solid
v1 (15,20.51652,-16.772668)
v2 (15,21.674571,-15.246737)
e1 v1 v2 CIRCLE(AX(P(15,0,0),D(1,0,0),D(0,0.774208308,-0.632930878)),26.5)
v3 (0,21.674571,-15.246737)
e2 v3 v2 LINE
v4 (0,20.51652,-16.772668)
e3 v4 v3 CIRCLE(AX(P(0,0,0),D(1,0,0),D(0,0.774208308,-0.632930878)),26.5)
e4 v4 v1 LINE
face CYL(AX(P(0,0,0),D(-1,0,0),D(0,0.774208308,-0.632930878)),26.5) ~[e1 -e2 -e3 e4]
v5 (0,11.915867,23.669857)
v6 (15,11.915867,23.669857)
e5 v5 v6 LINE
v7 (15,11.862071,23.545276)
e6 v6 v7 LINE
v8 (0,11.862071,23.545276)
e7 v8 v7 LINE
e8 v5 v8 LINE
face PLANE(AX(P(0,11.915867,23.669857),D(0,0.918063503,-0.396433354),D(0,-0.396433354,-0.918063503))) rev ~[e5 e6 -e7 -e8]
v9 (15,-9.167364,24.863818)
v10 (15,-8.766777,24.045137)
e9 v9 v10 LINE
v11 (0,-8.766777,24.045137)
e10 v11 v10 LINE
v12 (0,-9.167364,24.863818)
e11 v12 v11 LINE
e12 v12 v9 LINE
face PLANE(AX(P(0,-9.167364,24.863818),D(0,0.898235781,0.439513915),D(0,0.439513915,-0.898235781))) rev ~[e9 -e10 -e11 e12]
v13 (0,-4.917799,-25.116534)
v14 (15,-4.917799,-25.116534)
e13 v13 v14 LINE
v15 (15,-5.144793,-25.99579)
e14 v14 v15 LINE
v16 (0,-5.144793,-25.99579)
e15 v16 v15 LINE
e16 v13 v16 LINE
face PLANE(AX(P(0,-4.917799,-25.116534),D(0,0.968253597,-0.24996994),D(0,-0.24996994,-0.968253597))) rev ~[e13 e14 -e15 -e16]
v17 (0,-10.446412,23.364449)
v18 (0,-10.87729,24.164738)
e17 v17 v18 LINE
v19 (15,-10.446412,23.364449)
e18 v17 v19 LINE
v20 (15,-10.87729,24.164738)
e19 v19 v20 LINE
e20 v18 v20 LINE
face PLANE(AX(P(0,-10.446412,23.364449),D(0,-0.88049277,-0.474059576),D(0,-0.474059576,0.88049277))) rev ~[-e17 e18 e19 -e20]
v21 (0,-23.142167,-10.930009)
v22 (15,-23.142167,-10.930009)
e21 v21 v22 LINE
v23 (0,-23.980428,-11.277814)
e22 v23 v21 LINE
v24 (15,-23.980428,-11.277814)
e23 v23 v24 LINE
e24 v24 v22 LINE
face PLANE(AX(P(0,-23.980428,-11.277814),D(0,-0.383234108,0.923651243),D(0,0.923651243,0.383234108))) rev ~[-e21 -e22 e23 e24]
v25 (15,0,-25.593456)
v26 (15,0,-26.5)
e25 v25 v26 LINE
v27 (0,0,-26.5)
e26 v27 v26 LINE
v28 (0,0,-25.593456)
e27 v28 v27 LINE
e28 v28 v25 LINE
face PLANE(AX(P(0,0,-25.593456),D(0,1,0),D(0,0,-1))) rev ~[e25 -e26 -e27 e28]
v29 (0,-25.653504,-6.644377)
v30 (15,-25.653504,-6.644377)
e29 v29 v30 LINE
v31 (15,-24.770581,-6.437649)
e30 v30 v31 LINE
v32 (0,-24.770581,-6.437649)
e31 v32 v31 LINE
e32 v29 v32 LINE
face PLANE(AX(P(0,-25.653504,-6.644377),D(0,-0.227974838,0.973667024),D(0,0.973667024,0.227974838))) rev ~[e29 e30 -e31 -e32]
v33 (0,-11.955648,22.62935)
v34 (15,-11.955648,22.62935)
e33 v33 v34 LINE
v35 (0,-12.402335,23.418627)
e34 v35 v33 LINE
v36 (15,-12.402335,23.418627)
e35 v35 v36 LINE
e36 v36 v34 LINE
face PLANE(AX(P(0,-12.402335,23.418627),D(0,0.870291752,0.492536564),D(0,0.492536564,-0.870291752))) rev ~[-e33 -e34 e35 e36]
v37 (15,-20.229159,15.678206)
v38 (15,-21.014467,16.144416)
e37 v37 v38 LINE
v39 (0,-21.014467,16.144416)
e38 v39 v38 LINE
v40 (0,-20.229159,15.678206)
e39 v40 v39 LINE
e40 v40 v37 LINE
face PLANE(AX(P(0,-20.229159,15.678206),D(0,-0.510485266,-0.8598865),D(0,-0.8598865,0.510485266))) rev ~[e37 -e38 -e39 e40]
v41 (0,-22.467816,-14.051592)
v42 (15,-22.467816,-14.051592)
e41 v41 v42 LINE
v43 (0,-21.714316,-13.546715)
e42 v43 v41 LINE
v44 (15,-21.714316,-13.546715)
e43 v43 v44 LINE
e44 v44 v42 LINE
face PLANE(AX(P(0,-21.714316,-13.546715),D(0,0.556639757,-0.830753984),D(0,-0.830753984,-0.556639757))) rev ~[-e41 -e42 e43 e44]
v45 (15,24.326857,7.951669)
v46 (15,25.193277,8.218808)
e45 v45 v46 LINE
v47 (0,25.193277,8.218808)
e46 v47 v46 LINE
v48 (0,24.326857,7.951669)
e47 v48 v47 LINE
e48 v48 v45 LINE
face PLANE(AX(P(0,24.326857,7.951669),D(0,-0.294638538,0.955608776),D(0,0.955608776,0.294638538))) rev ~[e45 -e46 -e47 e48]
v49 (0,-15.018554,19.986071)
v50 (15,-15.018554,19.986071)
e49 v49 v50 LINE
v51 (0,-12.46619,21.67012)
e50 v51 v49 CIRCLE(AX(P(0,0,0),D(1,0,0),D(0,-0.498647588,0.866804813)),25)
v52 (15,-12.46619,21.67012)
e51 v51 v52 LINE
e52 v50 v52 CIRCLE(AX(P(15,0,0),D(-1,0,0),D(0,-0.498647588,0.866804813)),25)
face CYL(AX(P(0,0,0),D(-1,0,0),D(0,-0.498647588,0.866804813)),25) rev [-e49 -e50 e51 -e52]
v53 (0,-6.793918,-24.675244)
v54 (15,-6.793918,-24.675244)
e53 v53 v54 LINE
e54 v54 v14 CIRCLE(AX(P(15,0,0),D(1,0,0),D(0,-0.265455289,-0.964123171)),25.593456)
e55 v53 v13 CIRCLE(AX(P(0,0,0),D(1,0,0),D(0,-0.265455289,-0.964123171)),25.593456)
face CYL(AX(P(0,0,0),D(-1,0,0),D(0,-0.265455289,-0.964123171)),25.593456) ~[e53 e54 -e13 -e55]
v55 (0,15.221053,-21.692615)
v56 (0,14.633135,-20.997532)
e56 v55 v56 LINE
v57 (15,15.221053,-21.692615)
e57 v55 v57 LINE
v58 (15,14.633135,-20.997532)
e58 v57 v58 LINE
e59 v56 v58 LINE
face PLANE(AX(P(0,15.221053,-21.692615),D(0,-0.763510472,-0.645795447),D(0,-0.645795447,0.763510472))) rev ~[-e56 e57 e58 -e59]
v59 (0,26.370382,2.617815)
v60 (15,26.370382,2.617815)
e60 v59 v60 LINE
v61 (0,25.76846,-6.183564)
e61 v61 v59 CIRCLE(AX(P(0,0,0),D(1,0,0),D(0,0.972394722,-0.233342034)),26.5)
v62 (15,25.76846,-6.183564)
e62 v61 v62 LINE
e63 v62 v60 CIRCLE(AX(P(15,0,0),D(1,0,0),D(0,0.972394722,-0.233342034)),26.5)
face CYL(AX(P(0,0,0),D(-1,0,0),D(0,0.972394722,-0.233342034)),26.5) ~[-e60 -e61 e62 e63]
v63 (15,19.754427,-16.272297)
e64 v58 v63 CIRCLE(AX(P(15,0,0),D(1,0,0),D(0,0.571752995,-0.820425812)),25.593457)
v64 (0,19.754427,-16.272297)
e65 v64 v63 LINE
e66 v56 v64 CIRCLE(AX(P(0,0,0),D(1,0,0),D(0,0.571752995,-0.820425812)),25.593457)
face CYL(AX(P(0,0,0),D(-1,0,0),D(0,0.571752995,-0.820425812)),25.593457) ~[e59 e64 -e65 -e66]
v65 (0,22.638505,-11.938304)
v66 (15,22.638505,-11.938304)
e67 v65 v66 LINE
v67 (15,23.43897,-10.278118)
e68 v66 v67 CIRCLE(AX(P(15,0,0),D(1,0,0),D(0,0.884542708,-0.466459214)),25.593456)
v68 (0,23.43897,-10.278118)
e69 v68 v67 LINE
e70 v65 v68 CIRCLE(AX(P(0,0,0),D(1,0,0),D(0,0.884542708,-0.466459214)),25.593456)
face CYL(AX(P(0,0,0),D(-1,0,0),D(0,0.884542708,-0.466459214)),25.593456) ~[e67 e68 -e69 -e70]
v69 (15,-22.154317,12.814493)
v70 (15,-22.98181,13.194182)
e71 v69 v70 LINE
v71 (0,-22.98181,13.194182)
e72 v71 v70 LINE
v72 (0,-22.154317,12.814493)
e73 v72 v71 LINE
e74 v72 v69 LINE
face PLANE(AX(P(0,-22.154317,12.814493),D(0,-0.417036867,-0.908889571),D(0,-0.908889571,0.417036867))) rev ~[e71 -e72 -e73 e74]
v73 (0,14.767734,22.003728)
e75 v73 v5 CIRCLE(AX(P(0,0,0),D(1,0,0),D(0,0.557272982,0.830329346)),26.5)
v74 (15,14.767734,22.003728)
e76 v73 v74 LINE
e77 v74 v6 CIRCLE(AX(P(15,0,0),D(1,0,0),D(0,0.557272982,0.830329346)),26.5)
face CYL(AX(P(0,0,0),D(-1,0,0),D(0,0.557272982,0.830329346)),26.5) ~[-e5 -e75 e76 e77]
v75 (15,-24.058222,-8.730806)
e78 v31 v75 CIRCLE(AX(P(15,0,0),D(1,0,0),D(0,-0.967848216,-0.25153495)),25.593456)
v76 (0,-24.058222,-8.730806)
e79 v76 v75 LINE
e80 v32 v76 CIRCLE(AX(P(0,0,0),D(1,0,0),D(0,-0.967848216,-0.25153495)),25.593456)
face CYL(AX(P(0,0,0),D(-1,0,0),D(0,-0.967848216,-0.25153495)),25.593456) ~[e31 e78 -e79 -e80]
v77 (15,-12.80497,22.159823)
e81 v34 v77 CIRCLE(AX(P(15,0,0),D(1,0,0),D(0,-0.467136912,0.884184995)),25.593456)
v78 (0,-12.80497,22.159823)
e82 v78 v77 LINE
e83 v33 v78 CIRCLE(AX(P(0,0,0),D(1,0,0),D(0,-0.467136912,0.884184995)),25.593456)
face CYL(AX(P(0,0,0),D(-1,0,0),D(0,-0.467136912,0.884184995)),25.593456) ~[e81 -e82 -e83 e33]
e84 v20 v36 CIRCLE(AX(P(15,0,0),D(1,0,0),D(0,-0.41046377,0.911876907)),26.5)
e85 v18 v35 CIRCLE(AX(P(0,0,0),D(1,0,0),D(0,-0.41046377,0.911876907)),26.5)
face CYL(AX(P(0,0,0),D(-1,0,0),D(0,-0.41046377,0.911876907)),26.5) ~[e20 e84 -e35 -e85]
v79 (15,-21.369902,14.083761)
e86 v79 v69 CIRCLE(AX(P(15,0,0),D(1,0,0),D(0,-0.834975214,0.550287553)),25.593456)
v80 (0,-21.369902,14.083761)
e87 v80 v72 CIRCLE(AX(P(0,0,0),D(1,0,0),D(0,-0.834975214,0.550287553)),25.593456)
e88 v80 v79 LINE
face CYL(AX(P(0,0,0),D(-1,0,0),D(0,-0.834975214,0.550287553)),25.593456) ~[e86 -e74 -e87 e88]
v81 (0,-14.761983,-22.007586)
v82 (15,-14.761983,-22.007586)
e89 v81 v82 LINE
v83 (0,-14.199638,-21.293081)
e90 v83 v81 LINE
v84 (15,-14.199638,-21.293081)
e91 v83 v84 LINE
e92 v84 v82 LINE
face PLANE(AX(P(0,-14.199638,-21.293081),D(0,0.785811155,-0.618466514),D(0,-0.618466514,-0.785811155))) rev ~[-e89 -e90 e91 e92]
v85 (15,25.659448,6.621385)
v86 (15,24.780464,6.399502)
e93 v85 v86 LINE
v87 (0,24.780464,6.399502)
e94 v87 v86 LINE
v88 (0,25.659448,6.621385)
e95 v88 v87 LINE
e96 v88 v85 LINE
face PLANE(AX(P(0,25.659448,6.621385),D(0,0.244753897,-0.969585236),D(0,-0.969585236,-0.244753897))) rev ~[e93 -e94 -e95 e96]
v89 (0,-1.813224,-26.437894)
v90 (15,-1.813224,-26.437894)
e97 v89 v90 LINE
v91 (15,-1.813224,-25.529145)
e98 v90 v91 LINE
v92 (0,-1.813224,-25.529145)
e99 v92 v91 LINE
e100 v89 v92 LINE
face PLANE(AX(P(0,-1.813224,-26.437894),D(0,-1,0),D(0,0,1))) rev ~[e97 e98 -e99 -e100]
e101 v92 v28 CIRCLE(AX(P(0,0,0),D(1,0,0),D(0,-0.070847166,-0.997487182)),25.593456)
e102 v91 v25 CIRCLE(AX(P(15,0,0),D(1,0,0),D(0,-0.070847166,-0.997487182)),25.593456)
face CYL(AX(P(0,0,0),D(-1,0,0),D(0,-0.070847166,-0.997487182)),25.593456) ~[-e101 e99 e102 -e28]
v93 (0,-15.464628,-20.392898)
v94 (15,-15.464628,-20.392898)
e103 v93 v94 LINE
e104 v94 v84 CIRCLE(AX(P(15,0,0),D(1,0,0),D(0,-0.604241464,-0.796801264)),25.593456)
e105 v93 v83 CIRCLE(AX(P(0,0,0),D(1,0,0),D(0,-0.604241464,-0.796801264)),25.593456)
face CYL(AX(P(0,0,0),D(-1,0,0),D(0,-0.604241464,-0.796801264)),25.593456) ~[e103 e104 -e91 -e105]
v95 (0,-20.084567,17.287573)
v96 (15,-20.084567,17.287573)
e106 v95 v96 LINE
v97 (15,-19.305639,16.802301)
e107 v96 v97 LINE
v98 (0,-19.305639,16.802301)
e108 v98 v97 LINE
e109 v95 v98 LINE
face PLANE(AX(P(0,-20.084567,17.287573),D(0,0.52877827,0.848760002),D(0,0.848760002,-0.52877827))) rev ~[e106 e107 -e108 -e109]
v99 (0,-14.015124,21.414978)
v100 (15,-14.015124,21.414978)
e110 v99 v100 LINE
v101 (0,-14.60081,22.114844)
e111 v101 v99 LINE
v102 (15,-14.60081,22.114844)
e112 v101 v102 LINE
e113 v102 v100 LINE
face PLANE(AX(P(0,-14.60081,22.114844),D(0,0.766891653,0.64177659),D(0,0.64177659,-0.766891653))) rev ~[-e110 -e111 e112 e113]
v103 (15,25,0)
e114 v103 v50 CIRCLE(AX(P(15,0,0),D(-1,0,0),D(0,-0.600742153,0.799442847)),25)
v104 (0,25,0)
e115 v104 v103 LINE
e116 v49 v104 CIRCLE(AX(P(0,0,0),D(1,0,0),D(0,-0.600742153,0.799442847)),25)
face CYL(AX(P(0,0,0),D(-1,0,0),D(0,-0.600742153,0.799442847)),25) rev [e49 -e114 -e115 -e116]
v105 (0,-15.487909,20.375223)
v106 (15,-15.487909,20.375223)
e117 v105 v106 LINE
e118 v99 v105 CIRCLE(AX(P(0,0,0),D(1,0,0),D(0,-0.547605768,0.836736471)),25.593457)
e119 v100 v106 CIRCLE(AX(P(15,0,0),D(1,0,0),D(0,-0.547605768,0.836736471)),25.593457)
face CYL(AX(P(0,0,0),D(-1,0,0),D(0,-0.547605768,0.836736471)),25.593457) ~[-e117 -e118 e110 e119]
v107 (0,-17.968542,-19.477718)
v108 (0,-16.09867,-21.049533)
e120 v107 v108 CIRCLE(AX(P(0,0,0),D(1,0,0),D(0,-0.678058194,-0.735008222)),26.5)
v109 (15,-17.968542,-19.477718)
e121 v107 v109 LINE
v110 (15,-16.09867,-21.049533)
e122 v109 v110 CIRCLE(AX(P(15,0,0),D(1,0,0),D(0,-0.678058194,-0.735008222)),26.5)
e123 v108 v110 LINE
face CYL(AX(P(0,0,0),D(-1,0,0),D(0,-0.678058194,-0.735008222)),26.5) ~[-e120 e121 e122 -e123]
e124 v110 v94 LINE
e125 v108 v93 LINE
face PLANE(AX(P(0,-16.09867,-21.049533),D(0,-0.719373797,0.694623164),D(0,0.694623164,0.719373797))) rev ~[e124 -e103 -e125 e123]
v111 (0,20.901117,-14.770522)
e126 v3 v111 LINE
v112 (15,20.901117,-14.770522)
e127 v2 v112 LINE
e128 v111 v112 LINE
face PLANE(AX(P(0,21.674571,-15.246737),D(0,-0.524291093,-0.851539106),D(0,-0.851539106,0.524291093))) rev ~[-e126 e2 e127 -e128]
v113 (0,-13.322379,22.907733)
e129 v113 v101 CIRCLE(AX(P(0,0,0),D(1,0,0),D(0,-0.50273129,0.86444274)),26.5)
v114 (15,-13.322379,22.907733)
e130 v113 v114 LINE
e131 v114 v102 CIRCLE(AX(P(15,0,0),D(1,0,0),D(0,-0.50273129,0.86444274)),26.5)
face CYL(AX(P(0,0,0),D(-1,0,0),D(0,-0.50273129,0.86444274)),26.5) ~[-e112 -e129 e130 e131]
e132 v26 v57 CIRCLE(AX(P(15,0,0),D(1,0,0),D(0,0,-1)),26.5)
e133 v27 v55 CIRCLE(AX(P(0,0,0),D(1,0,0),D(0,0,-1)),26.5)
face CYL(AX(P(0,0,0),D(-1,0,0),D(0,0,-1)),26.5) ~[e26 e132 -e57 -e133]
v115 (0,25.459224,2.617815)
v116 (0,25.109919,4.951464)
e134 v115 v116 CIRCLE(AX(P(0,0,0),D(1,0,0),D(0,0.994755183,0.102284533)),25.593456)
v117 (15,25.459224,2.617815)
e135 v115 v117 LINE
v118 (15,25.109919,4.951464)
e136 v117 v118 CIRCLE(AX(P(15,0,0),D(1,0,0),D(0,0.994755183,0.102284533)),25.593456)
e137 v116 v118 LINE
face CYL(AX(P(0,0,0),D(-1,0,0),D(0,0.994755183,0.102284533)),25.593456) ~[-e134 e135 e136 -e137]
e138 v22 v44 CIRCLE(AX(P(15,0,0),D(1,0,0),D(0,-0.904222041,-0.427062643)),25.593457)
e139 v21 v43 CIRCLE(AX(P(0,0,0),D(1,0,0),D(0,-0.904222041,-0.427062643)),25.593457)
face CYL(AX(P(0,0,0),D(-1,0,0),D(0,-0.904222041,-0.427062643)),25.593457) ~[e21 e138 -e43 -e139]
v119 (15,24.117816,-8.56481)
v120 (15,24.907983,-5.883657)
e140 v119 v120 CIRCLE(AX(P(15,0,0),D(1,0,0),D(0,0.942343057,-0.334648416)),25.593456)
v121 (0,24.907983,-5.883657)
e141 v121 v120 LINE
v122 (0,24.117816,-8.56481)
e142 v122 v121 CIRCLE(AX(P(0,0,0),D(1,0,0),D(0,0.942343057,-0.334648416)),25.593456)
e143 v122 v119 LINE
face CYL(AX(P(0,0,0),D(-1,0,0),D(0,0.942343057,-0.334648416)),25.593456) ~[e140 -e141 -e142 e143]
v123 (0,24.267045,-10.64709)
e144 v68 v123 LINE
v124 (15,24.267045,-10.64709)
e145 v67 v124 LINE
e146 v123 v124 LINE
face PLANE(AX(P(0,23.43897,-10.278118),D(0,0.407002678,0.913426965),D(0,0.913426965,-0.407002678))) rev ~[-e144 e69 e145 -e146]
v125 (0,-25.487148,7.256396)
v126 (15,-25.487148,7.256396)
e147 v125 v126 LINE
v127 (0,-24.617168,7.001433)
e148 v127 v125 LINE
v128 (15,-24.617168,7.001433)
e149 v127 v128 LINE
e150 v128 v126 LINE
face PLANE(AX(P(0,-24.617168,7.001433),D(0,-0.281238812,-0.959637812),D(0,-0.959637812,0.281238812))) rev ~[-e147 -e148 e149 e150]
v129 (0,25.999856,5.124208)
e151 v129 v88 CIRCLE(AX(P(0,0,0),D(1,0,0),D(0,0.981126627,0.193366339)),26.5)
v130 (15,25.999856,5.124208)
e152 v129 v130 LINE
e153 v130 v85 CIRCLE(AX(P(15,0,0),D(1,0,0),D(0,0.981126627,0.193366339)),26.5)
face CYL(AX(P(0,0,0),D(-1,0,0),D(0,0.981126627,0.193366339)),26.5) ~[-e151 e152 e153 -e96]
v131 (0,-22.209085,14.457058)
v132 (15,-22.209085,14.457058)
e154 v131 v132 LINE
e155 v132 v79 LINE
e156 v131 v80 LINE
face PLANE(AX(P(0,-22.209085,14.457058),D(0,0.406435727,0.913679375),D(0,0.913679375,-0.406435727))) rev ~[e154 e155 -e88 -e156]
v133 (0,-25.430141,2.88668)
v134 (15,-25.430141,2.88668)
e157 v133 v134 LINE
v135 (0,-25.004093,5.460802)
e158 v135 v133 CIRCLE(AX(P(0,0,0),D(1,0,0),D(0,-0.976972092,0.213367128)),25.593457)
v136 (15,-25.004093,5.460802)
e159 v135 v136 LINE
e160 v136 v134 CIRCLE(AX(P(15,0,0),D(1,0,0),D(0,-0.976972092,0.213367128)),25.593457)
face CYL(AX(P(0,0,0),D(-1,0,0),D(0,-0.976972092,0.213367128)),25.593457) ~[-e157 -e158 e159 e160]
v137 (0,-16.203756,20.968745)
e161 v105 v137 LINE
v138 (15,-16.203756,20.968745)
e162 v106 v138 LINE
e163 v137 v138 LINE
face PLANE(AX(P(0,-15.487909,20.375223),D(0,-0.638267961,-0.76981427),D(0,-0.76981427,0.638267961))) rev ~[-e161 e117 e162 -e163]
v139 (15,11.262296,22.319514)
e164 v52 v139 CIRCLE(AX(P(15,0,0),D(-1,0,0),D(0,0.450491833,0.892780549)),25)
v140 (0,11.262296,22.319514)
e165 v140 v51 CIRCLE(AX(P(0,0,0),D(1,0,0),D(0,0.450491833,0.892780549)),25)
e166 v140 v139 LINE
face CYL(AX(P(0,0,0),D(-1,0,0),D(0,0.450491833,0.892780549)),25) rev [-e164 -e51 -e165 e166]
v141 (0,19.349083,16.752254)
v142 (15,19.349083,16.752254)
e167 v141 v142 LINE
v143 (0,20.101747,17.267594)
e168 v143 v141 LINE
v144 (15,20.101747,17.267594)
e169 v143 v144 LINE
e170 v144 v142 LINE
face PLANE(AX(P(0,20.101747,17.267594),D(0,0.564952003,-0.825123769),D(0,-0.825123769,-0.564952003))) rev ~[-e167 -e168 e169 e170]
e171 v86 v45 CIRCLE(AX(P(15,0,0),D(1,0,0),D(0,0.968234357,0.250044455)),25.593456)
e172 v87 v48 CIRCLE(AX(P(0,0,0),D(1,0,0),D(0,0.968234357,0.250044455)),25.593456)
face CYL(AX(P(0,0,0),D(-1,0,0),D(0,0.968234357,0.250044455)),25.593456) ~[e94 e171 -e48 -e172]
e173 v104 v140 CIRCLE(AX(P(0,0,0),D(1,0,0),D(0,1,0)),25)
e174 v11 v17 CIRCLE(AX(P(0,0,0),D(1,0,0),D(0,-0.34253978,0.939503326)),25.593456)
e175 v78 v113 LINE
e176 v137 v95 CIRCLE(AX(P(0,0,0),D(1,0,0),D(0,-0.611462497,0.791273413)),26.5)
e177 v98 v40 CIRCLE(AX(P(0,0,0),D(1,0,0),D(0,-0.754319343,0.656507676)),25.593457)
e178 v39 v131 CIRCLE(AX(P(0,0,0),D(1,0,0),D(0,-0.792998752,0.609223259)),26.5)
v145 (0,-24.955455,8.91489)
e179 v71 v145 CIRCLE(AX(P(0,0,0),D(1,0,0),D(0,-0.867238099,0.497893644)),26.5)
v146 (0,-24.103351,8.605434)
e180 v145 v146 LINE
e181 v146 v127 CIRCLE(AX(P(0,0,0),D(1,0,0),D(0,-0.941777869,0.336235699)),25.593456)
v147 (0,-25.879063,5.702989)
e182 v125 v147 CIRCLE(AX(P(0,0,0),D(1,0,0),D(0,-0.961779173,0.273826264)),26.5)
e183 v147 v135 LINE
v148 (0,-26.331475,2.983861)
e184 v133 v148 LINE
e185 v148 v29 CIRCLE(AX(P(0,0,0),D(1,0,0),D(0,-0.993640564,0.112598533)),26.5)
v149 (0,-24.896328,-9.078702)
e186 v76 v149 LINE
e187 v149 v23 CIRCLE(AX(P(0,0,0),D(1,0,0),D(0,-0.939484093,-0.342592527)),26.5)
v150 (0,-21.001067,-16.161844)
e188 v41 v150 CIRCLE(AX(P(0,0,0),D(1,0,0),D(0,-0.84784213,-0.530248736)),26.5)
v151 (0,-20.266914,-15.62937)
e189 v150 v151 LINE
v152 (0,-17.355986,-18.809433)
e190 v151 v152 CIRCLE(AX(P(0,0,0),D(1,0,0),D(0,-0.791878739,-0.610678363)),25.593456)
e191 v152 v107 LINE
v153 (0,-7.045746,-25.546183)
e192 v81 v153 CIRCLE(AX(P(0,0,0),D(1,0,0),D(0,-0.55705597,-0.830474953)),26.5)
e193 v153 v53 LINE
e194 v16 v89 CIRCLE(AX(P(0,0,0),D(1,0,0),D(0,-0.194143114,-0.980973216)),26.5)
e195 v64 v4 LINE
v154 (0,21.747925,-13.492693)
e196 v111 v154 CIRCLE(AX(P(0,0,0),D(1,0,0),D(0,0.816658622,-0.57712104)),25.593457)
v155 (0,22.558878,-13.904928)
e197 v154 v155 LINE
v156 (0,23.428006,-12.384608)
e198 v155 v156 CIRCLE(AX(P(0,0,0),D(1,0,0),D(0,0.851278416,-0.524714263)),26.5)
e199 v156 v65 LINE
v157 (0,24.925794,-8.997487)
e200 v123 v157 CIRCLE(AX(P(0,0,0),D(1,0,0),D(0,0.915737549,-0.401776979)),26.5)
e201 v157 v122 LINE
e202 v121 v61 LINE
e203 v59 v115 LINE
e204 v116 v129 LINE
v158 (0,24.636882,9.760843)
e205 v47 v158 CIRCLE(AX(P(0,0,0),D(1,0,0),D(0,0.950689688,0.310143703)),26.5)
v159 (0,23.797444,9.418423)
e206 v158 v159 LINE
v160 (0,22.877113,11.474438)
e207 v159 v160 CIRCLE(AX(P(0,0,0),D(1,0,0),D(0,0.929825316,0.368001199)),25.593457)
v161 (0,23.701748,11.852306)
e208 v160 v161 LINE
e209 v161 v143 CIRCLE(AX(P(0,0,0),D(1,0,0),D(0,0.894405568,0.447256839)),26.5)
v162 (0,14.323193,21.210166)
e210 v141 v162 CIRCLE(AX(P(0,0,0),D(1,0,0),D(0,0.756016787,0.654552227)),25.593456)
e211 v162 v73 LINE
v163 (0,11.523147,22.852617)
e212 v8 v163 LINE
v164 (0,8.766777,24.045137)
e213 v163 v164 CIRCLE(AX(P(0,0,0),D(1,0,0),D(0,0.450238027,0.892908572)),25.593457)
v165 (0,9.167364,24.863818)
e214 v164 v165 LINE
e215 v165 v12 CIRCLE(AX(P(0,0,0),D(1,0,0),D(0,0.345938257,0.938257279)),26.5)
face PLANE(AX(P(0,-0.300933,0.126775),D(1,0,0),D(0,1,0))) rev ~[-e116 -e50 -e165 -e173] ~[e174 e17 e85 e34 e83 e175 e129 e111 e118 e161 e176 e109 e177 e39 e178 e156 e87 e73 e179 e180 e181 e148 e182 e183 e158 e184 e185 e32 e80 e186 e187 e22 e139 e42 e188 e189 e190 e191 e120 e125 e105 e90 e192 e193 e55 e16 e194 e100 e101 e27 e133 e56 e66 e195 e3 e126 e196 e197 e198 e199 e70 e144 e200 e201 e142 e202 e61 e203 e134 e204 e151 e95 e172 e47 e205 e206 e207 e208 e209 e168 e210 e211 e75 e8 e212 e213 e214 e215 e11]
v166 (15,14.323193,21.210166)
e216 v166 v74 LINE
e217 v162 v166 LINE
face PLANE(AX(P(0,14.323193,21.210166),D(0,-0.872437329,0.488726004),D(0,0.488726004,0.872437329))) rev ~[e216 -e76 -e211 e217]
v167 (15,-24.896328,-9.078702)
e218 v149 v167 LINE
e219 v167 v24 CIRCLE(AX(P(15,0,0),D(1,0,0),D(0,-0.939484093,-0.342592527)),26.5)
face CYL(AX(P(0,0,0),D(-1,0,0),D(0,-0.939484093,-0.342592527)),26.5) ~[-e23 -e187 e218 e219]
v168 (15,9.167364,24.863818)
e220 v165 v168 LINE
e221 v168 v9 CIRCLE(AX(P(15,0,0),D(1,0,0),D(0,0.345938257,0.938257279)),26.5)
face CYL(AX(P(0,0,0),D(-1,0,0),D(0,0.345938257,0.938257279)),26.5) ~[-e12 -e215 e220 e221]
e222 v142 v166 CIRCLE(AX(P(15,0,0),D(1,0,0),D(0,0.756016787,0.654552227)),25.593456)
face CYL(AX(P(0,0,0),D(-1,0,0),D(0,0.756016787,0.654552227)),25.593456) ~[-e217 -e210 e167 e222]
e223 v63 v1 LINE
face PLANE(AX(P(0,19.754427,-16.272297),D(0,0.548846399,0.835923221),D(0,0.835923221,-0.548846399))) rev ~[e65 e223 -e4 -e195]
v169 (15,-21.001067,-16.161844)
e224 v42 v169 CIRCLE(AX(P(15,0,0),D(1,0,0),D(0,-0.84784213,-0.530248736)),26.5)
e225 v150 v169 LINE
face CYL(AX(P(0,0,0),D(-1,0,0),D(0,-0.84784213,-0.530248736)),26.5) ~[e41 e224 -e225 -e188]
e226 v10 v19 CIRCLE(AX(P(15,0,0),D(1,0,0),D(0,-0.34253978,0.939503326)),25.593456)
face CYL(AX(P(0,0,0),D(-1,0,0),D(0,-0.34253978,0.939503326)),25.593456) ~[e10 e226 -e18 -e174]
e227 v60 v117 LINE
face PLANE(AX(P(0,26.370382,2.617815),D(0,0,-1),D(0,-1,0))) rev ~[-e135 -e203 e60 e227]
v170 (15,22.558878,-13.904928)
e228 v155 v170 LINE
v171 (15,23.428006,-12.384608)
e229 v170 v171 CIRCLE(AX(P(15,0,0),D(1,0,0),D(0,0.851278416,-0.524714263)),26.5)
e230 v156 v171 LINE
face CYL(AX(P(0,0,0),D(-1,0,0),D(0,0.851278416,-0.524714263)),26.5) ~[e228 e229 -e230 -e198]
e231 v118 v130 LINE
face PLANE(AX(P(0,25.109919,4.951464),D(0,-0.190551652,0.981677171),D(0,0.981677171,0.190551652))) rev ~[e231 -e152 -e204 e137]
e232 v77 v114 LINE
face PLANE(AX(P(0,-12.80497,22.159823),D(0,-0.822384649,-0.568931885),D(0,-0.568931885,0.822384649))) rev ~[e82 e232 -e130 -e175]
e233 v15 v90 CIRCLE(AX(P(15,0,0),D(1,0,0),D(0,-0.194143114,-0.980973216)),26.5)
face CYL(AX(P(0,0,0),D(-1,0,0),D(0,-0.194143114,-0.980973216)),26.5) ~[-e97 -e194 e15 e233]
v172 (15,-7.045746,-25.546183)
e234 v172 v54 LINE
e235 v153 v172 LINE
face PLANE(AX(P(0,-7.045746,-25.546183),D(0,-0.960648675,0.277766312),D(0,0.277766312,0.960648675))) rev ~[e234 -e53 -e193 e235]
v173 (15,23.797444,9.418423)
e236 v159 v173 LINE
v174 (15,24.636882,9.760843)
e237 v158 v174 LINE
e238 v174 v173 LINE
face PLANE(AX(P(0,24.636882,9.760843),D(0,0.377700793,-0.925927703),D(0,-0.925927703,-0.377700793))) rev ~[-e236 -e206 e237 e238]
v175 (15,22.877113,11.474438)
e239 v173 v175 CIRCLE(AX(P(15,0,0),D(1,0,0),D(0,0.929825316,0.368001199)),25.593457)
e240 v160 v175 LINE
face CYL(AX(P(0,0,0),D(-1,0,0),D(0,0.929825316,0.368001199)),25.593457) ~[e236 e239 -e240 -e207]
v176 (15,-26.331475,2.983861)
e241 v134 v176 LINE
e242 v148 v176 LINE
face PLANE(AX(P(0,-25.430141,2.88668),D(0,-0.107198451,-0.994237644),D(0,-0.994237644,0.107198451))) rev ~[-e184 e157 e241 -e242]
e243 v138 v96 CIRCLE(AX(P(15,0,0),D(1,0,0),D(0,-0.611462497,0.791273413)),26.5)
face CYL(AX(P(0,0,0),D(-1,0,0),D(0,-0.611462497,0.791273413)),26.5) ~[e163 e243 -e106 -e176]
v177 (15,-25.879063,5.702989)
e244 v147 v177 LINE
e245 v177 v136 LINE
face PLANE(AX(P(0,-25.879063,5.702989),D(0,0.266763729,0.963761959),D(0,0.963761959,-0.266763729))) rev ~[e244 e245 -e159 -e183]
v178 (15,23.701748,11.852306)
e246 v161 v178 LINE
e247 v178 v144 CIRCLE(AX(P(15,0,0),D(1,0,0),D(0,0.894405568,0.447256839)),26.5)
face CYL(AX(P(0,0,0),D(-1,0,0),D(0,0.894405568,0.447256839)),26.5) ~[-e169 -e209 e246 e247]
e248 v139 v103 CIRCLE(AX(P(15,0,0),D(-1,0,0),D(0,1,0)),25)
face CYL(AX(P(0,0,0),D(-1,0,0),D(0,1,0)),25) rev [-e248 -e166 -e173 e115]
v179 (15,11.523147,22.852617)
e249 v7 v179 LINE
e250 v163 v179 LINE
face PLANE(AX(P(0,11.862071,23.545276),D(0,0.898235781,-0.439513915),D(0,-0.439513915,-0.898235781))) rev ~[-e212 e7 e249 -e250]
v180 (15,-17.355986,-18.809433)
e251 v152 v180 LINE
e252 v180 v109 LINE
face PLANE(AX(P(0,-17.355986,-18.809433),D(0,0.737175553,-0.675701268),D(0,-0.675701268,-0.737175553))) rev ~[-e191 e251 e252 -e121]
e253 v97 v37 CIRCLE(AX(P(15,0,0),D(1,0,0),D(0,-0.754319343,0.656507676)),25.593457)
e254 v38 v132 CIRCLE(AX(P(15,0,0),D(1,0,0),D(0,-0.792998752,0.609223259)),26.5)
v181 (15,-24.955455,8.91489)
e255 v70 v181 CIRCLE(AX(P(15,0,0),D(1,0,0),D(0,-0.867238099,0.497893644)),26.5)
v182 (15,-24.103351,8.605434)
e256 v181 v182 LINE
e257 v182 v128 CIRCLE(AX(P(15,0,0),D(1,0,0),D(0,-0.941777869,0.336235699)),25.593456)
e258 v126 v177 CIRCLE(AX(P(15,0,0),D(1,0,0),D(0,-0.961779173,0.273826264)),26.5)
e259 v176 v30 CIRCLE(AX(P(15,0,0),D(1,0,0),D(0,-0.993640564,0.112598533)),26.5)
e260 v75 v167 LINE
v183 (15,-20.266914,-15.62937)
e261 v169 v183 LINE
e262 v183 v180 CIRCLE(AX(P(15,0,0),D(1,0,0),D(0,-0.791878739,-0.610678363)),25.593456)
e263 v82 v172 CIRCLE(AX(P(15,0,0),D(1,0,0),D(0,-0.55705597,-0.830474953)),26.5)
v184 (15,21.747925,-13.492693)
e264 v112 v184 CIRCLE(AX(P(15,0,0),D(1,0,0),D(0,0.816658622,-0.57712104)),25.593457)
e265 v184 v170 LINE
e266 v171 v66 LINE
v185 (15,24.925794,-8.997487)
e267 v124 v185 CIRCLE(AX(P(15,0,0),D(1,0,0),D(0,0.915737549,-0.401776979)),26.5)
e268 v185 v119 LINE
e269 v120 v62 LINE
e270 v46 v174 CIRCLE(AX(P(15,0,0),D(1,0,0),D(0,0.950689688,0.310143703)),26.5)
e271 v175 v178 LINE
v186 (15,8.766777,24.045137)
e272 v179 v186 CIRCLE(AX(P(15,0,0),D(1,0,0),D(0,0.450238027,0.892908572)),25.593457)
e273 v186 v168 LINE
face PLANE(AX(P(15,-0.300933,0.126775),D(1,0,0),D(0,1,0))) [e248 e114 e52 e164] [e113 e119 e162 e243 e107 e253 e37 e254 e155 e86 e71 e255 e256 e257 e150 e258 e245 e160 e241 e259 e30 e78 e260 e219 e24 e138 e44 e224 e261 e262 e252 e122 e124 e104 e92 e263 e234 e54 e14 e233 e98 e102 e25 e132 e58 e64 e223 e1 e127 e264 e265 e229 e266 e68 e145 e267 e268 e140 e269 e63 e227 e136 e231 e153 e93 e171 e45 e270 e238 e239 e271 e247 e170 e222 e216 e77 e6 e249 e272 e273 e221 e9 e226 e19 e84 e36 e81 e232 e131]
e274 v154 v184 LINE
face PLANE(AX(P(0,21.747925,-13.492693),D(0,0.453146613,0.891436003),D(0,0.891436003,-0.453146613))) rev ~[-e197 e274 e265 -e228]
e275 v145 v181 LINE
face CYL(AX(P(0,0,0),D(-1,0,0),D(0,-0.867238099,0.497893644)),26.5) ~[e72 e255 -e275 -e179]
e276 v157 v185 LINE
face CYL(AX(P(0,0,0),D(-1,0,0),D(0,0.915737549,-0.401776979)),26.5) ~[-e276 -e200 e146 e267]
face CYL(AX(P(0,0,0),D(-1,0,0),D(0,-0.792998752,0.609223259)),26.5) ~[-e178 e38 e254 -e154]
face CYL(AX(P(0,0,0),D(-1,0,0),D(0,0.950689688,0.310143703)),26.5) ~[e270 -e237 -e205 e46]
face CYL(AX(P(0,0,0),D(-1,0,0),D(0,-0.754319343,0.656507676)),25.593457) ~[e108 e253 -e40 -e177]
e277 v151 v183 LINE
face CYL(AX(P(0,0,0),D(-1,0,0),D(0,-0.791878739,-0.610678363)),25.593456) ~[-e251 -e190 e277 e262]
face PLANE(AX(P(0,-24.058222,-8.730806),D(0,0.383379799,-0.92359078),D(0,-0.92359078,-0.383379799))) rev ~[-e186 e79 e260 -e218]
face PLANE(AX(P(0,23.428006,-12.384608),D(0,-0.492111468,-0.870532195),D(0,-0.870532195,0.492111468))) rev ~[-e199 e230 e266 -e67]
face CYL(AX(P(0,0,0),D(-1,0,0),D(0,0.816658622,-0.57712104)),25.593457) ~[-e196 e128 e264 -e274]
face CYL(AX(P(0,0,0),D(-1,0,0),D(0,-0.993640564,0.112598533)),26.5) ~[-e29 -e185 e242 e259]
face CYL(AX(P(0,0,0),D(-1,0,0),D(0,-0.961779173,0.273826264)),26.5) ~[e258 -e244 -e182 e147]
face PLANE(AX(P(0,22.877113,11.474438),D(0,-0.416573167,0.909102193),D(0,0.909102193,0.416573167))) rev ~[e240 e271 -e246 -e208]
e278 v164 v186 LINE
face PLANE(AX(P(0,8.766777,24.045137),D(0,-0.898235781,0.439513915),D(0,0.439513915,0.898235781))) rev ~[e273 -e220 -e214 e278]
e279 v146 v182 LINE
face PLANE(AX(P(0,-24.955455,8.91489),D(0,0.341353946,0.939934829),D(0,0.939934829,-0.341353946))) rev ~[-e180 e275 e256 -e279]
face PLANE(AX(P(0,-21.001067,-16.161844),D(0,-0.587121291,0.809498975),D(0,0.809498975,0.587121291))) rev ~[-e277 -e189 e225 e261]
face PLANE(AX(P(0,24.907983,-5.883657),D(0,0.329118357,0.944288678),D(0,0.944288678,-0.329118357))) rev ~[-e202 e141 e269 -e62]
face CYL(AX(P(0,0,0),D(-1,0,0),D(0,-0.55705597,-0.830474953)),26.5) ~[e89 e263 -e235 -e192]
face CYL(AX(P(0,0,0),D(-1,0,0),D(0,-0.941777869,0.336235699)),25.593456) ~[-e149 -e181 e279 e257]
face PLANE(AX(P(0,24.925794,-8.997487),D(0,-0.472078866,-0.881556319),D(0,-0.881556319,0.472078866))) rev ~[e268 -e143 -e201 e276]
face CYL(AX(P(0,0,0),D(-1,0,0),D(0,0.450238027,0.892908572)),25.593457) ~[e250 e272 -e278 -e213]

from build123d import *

# Parameters (mm, degrees)
F0_R     = 25
F1_DEPTH = 15
F3_DEPTH = 15
F4_DEPTH = 25


with BuildPart() as f1:
    # F0 (on Right) → F1 (new body)
    with BuildSketch(Plane.YZ):
        Circle(F0_R)
    extrude(amount=F1_DEPTH)

    # F2 (on Right) → F3 (join)
    with BuildSketch(Plane.YZ):
        with BuildLine():
            Line((8.7667769657, 24.0451374911), (9.167363807, 24.8638179053))
            ThreePointArc((9.167363807, 24.8638179053), (0, 26.5), (-9.167363807, 24.8638179053))
            Line((-9.167363807, 24.8638179053), (-8.7667769657, 24.0451374911))
            ThreePointArc((-8.7667769657, 24.0451374911), (-9.6126216367, 23.7196652717), (-10.4464123148, 23.3644491713))
            Line((-10.4464123148, 23.3644491713), (-10.8772899015, 24.1647380371))
            ThreePointArc((-10.8772899015, 24.1647380371), (-11.6457890541, 23.8038987838), (-12.4023348608, 23.4186269879))
            Line((-12.4023348608, 23.4186269879), (-11.9556482444, 22.6293501981))
            ThreePointArc((-11.9556482444, 22.6293501981), (-12.3825347012, 22.3986126737), (-12.804969819, 22.1598231777))
            Line((-12.804969819, 22.1598231777), (-13.3223791829, 22.9077326007))
            ThreePointArc((-13.3223791829, 22.9077326007), (-13.9672221354, 22.5203620268), (-14.600810194, 22.1148443738))
            Line((-14.600810194, 22.1148443738), (-14.015124401, 21.4149784813))
            ThreePointArc((-14.015124401, 21.4149784813), (-14.7606746545, 20.9080725815), (-15.4879088774, 20.3752225494))
            Line((-15.4879088774, 20.3752225494), (-16.2037561785, 20.9687454491))
            ThreePointArc((-16.2037561785, 20.9687454491), (-18.2372791356, 19.2263269953), (-20.0845666163, 17.2875731043))
            Line((-20.0845666163, 17.2875731043), (-19.3056392832, 16.8023006519))
            ThreePointArc((-19.3056392832, 16.8023006519), (-19.7753879115, 16.2468165583), (-20.2291590487, 15.6782058768))
            Line((-20.2291590487, 15.6782058768), (-21.0144669293, 16.1444163622))
            ThreePointArc((-21.0144669293, 16.1444163622), (-21.6282376373, 15.3123916063), (-22.2090853884, 14.4570580068))
            Line((-22.2090853884, 14.4570580068), (-21.3699018236, 14.0837605553))
            ThreePointArc((-21.3699018236, 14.0837605553), (-21.7713613337, 13.4548445182), (-22.154317385, 12.8144932219))
            Line((-22.154317385, 12.8144932219), (-22.9818096131, 13.194181555))
            ThreePointArc((-22.9818096131, 13.194181555), (-24.0639443096, 11.0984946846), (-24.9554549092, 8.9148903682))
            Line((-24.9554549092, 8.9148903682), (-24.1033509171, 8.6054337427))
            ThreePointArc((-24.1033509171, 8.6054337427), (-24.3734577278, 7.8076612198), (-24.6171678383, 7.0014329212))
            Line((-24.6171678383, 7.0014329212), (-25.4871480775, 7.2563959978))
            ThreePointArc((-25.4871480775, 7.2563959978), (-25.6948474434, 6.4826549236), (-25.8790632637, 5.7029890927))
            Line((-25.8790632637, 5.7029890927), (-25.0040927329, 5.4608023163))
            ThreePointArc((-25.0040927329, 5.4608023163), (-25.2499410388, 4.1791737064), (-25.4301414932, 2.8866795751))
            Line((-25.4301414932, 2.8866795751), (-26.3314749458, 2.9838611194))
            ThreePointArc((-26.3314749458, 2.9838611194), (-26.4345464349, -1.8613851782), (-25.6535038217, -6.6443766953))
            Line((-25.6535038217, -6.6443766953), (-24.770581207, -6.4376487942))
            ThreePointArc((-24.770581207, -6.4376487942), (-24.4413101827, -7.5925866398), (-24.0582217907, -8.7308063544))
            Line((-24.0582217907, -8.7308063544), (-24.8963284614, -9.0787019525))
            ThreePointArc((-24.8963284614, -9.0787019525), (-24.4631018107, -10.1885548434), (-23.980427863, -11.2778135961))
            Line((-23.980427863, -11.2778135961), (-23.1421674569, -10.9300091824))
            ThreePointArc((-23.1421674569, -10.9300091824), (-22.4663708469, -12.2591678469), (-21.714316209, -13.5467149858))
            Line((-21.714316209, -13.5467149858), (-22.4678164464, -14.0515915159))
            ThreePointArc((-22.4678164464, -14.0515915159), (-21.7600378171, -15.1245083953), (-21.0010668987, -16.1618436175))
            Line((-21.0010668987, -16.1618436175), (-20.2669140588, -15.6293701045))
            ThreePointArc((-20.2669140588, -15.6293701045), (-18.8785289932, -17.2808031753), (-17.3559862837, -18.809432619))
            Line((-17.3559862837, -18.809432619), (-17.9685421311, -19.4777178766))
            ThreePointArc((-17.9685421311, -19.4777178766), (-17.0517267057, -20.2851821869), (-16.0986698562, -21.0495327468))
            Line((-16.0986698562, -21.0495327468), (-15.4646276122, -20.3928984734))
            ThreePointArc((-15.4646276122, -20.3928984734), (-14.8389602034, -20.8525843821), (-14.1996376023, -21.2930812071))
            Line((-14.1996376023, -21.2930812071), (-14.7619831931, -22.0075862422))
            ThreePointArc((-14.7619831931, -22.0075862422), (-11.0464779391, -24.0878667619), (-7.0457455252, -25.5461830807))
            Line((-7.0457455252, -25.5461830807), (-6.7939183804, -24.675244444))
            ThreePointArc((-6.7939183804, -24.675244444), (-5.8600138867, -24.9135555989), (-4.9177986021, -25.1165338421))
            Line((-4.9177986021, -25.1165338421), (-5.1447925105, -25.9957902366))
            ThreePointArc((-5.1447925105, -25.9957902366), (-3.4860237826, -26.2697095185), (-1.8132238626, -26.4378936231))
            Line((-1.8132238626, -26.4378936231), (-1.8132238626, -25.5291448066))
            ThreePointArc((-1.8132238626, -25.5291448066), (-0.9071820061, -25.5773735192), (0, -25.5934564944))
            Line((0, -25.5934564944), (0, -26.5))
            ThreePointArc((0, -26.5), (7.9810933491, -25.2695894101), (15.2210529793, -21.6926150153))
            Line((15.2210529793, -21.6926150153), (14.6331353927, -20.9975323291))
            ThreePointArc((14.6331353927, -20.9975323291), (17.3553470272, -18.8100224586), (19.7544267456, -16.2722966812))
            Line((19.7544267456, -16.2722966812), (20.5165201568, -16.7726682629))
            ThreePointArc((20.5165201568, -16.7726682629), (21.1093381988, -16.0201698122), (21.6745709529, -15.2467365035))
            Line((21.6745709529, -15.2467365035), (20.9011169086, -14.7705222421))
            ThreePointArc((20.9011169086, -14.7705222421), (21.3340901742, -14.1379493481), (21.7479249086, -13.4926934858))
            Line((21.7479249086, -13.4926934858), (22.5588780332, -13.9049279712))
            ThreePointArc((22.5588780332, -13.9049279712), (23.0060041379, -13.1519494223), (23.4280063282, -12.3846081684))
            Line((23.4280063282, -12.3846081684), (22.6385053111, -11.93830359))
            ThreePointArc((22.6385053111, -11.93830359), (23.053686941, -11.1154187397), (23.4389697754, -10.2781180768))
            Line((23.4389697754, -10.2781180768), (24.267045054, -10.6470899475))
            ThreePointArc((24.267045054, -10.6470899475), (24.6102450352, -9.8278094866), (24.925794396, -8.9974870785))
            Line((24.925794396, -8.9974870785), (24.1178160427, -8.5648096686))
            ThreePointArc((24.1178160427, -8.5648096686), (24.5495291024, -7.2350284161), (24.9079826306, -5.8836567376))
            Line((24.9079826306, -5.8836567376), (25.7684601297, -6.183563903))
            ThreePointArc((25.7684601297, -6.183563903), (26.4382446614, -1.8080982335), (26.3703819824, 2.6178147571))
            Line((26.3703819824, 2.6178147571), (25.4592235001, 2.6178147571))
            ThreePointArc((25.4592235001, 2.6178147571), (25.3114799464, 3.7886670817), (25.1099187709, 4.9514638896))
            Line((25.1099187709, 4.9514638896), (25.9998556245, 5.1242079882))
            ThreePointArc((25.9998556245, 5.1242079882), (25.8404971142, 5.8752624528), (25.6594477487, 6.6213851444))
            Line((25.6594477487, 6.6213851444), (24.7804638947, 6.3995018943))
            ThreePointArc((24.7804638947, 6.3995018943), (24.565922533, 7.179168854), (24.3268571199, 7.9516688812))
            Line((24.3268571199, 7.9516688812), (25.1932767406, 8.2188081296))
            ThreePointArc((25.1932767406, 8.2188081296), (24.9270062981, 8.9941290304), (24.6368818038, 9.7608429444))
            Line((24.6368818038, 9.7608429444), (23.797443763, 9.4184226747))
            ThreePointArc((23.797443763, 9.4184226747), (23.3599091422, 10.4565606294), (22.8771127008, 11.4744381042))
            Line((22.8771127008, 11.4744381042), (23.7017475478, 11.8523062389))
            ThreePointArc((23.7017475478, 11.8523062389), (22.0684810977, 14.6707921409), (20.1017465557, 17.2675935038))
            Line((20.1017465557, 17.2675935038), (19.3490827507, 16.752253939))
            ThreePointArc((19.3490827507, 16.752253939), (16.9830440824, 19.1468333942), (14.3231931258, 21.2101662891))
            Line((14.3231931258, 21.2101662891), (14.767734035, 22.0037276722))
            ThreePointArc((14.767734035, 22.0037276722), (13.3677835034, 22.8812666652), (11.915866869, 23.6698567119))
            Line((11.915866869, 23.6698567119), (11.86207115, 23.5452761594))
            Line((11.86207115, 23.5452761594), (11.5231473656, 22.8526167019))
            ThreePointArc((11.5231473656, 22.8526167019), (10.1624693751, 23.4893429353), (8.7667769657, 24.0451374911))
        make_face()
        with BuildLine():
            ThreePointArc((25, 0), (-11.1699631634, -22.3658651281), (-15.0185538343, 19.9860711678))
            ThreePointArc((-15.0185538343, 19.9860711678), (-13.7681439239, 20.8671563202), (-12.4661896956, 21.6701203152))
            ThreePointArc((-12.4661896956, 21.6701203152), (-0.6839357102, 24.9906428878), (11.262295833, 22.3195137171))
            ThreePointArc((11.262295833, 22.3195137171), (21.2903428322, 13.1042474827), (25, 0))
        make_face(mode=Mode.SUBTRACT)
    extrude(amount=F3_DEPTH)

    # F2 (on Right) → F4 (cut)
    with BuildSketch(Plane.YZ):
        with BuildLine():
            ThreePointArc((-12.4661896956, 21.6701203152), (-13.7681439239, 20.8671563202), (-15.0185538343, 19.9860711678))
            ThreePointArc((-15.0185538343, 19.9860711678), (-11.1699631634, -22.3658651281), (25, 0))
            ThreePointArc((25, 0), (21.2903428322, 13.1042474827), (11.262295833, 22.3195137171))
            ThreePointArc((11.262295833, 22.3195137171), (-0.6839357102, 24.9906428878), (-12.4661896956, 21.6701203152))
        make_face()
    extrude(amount=F4_DEPTH, mode=Mode.SUBTRACT)


solid = f1.part
